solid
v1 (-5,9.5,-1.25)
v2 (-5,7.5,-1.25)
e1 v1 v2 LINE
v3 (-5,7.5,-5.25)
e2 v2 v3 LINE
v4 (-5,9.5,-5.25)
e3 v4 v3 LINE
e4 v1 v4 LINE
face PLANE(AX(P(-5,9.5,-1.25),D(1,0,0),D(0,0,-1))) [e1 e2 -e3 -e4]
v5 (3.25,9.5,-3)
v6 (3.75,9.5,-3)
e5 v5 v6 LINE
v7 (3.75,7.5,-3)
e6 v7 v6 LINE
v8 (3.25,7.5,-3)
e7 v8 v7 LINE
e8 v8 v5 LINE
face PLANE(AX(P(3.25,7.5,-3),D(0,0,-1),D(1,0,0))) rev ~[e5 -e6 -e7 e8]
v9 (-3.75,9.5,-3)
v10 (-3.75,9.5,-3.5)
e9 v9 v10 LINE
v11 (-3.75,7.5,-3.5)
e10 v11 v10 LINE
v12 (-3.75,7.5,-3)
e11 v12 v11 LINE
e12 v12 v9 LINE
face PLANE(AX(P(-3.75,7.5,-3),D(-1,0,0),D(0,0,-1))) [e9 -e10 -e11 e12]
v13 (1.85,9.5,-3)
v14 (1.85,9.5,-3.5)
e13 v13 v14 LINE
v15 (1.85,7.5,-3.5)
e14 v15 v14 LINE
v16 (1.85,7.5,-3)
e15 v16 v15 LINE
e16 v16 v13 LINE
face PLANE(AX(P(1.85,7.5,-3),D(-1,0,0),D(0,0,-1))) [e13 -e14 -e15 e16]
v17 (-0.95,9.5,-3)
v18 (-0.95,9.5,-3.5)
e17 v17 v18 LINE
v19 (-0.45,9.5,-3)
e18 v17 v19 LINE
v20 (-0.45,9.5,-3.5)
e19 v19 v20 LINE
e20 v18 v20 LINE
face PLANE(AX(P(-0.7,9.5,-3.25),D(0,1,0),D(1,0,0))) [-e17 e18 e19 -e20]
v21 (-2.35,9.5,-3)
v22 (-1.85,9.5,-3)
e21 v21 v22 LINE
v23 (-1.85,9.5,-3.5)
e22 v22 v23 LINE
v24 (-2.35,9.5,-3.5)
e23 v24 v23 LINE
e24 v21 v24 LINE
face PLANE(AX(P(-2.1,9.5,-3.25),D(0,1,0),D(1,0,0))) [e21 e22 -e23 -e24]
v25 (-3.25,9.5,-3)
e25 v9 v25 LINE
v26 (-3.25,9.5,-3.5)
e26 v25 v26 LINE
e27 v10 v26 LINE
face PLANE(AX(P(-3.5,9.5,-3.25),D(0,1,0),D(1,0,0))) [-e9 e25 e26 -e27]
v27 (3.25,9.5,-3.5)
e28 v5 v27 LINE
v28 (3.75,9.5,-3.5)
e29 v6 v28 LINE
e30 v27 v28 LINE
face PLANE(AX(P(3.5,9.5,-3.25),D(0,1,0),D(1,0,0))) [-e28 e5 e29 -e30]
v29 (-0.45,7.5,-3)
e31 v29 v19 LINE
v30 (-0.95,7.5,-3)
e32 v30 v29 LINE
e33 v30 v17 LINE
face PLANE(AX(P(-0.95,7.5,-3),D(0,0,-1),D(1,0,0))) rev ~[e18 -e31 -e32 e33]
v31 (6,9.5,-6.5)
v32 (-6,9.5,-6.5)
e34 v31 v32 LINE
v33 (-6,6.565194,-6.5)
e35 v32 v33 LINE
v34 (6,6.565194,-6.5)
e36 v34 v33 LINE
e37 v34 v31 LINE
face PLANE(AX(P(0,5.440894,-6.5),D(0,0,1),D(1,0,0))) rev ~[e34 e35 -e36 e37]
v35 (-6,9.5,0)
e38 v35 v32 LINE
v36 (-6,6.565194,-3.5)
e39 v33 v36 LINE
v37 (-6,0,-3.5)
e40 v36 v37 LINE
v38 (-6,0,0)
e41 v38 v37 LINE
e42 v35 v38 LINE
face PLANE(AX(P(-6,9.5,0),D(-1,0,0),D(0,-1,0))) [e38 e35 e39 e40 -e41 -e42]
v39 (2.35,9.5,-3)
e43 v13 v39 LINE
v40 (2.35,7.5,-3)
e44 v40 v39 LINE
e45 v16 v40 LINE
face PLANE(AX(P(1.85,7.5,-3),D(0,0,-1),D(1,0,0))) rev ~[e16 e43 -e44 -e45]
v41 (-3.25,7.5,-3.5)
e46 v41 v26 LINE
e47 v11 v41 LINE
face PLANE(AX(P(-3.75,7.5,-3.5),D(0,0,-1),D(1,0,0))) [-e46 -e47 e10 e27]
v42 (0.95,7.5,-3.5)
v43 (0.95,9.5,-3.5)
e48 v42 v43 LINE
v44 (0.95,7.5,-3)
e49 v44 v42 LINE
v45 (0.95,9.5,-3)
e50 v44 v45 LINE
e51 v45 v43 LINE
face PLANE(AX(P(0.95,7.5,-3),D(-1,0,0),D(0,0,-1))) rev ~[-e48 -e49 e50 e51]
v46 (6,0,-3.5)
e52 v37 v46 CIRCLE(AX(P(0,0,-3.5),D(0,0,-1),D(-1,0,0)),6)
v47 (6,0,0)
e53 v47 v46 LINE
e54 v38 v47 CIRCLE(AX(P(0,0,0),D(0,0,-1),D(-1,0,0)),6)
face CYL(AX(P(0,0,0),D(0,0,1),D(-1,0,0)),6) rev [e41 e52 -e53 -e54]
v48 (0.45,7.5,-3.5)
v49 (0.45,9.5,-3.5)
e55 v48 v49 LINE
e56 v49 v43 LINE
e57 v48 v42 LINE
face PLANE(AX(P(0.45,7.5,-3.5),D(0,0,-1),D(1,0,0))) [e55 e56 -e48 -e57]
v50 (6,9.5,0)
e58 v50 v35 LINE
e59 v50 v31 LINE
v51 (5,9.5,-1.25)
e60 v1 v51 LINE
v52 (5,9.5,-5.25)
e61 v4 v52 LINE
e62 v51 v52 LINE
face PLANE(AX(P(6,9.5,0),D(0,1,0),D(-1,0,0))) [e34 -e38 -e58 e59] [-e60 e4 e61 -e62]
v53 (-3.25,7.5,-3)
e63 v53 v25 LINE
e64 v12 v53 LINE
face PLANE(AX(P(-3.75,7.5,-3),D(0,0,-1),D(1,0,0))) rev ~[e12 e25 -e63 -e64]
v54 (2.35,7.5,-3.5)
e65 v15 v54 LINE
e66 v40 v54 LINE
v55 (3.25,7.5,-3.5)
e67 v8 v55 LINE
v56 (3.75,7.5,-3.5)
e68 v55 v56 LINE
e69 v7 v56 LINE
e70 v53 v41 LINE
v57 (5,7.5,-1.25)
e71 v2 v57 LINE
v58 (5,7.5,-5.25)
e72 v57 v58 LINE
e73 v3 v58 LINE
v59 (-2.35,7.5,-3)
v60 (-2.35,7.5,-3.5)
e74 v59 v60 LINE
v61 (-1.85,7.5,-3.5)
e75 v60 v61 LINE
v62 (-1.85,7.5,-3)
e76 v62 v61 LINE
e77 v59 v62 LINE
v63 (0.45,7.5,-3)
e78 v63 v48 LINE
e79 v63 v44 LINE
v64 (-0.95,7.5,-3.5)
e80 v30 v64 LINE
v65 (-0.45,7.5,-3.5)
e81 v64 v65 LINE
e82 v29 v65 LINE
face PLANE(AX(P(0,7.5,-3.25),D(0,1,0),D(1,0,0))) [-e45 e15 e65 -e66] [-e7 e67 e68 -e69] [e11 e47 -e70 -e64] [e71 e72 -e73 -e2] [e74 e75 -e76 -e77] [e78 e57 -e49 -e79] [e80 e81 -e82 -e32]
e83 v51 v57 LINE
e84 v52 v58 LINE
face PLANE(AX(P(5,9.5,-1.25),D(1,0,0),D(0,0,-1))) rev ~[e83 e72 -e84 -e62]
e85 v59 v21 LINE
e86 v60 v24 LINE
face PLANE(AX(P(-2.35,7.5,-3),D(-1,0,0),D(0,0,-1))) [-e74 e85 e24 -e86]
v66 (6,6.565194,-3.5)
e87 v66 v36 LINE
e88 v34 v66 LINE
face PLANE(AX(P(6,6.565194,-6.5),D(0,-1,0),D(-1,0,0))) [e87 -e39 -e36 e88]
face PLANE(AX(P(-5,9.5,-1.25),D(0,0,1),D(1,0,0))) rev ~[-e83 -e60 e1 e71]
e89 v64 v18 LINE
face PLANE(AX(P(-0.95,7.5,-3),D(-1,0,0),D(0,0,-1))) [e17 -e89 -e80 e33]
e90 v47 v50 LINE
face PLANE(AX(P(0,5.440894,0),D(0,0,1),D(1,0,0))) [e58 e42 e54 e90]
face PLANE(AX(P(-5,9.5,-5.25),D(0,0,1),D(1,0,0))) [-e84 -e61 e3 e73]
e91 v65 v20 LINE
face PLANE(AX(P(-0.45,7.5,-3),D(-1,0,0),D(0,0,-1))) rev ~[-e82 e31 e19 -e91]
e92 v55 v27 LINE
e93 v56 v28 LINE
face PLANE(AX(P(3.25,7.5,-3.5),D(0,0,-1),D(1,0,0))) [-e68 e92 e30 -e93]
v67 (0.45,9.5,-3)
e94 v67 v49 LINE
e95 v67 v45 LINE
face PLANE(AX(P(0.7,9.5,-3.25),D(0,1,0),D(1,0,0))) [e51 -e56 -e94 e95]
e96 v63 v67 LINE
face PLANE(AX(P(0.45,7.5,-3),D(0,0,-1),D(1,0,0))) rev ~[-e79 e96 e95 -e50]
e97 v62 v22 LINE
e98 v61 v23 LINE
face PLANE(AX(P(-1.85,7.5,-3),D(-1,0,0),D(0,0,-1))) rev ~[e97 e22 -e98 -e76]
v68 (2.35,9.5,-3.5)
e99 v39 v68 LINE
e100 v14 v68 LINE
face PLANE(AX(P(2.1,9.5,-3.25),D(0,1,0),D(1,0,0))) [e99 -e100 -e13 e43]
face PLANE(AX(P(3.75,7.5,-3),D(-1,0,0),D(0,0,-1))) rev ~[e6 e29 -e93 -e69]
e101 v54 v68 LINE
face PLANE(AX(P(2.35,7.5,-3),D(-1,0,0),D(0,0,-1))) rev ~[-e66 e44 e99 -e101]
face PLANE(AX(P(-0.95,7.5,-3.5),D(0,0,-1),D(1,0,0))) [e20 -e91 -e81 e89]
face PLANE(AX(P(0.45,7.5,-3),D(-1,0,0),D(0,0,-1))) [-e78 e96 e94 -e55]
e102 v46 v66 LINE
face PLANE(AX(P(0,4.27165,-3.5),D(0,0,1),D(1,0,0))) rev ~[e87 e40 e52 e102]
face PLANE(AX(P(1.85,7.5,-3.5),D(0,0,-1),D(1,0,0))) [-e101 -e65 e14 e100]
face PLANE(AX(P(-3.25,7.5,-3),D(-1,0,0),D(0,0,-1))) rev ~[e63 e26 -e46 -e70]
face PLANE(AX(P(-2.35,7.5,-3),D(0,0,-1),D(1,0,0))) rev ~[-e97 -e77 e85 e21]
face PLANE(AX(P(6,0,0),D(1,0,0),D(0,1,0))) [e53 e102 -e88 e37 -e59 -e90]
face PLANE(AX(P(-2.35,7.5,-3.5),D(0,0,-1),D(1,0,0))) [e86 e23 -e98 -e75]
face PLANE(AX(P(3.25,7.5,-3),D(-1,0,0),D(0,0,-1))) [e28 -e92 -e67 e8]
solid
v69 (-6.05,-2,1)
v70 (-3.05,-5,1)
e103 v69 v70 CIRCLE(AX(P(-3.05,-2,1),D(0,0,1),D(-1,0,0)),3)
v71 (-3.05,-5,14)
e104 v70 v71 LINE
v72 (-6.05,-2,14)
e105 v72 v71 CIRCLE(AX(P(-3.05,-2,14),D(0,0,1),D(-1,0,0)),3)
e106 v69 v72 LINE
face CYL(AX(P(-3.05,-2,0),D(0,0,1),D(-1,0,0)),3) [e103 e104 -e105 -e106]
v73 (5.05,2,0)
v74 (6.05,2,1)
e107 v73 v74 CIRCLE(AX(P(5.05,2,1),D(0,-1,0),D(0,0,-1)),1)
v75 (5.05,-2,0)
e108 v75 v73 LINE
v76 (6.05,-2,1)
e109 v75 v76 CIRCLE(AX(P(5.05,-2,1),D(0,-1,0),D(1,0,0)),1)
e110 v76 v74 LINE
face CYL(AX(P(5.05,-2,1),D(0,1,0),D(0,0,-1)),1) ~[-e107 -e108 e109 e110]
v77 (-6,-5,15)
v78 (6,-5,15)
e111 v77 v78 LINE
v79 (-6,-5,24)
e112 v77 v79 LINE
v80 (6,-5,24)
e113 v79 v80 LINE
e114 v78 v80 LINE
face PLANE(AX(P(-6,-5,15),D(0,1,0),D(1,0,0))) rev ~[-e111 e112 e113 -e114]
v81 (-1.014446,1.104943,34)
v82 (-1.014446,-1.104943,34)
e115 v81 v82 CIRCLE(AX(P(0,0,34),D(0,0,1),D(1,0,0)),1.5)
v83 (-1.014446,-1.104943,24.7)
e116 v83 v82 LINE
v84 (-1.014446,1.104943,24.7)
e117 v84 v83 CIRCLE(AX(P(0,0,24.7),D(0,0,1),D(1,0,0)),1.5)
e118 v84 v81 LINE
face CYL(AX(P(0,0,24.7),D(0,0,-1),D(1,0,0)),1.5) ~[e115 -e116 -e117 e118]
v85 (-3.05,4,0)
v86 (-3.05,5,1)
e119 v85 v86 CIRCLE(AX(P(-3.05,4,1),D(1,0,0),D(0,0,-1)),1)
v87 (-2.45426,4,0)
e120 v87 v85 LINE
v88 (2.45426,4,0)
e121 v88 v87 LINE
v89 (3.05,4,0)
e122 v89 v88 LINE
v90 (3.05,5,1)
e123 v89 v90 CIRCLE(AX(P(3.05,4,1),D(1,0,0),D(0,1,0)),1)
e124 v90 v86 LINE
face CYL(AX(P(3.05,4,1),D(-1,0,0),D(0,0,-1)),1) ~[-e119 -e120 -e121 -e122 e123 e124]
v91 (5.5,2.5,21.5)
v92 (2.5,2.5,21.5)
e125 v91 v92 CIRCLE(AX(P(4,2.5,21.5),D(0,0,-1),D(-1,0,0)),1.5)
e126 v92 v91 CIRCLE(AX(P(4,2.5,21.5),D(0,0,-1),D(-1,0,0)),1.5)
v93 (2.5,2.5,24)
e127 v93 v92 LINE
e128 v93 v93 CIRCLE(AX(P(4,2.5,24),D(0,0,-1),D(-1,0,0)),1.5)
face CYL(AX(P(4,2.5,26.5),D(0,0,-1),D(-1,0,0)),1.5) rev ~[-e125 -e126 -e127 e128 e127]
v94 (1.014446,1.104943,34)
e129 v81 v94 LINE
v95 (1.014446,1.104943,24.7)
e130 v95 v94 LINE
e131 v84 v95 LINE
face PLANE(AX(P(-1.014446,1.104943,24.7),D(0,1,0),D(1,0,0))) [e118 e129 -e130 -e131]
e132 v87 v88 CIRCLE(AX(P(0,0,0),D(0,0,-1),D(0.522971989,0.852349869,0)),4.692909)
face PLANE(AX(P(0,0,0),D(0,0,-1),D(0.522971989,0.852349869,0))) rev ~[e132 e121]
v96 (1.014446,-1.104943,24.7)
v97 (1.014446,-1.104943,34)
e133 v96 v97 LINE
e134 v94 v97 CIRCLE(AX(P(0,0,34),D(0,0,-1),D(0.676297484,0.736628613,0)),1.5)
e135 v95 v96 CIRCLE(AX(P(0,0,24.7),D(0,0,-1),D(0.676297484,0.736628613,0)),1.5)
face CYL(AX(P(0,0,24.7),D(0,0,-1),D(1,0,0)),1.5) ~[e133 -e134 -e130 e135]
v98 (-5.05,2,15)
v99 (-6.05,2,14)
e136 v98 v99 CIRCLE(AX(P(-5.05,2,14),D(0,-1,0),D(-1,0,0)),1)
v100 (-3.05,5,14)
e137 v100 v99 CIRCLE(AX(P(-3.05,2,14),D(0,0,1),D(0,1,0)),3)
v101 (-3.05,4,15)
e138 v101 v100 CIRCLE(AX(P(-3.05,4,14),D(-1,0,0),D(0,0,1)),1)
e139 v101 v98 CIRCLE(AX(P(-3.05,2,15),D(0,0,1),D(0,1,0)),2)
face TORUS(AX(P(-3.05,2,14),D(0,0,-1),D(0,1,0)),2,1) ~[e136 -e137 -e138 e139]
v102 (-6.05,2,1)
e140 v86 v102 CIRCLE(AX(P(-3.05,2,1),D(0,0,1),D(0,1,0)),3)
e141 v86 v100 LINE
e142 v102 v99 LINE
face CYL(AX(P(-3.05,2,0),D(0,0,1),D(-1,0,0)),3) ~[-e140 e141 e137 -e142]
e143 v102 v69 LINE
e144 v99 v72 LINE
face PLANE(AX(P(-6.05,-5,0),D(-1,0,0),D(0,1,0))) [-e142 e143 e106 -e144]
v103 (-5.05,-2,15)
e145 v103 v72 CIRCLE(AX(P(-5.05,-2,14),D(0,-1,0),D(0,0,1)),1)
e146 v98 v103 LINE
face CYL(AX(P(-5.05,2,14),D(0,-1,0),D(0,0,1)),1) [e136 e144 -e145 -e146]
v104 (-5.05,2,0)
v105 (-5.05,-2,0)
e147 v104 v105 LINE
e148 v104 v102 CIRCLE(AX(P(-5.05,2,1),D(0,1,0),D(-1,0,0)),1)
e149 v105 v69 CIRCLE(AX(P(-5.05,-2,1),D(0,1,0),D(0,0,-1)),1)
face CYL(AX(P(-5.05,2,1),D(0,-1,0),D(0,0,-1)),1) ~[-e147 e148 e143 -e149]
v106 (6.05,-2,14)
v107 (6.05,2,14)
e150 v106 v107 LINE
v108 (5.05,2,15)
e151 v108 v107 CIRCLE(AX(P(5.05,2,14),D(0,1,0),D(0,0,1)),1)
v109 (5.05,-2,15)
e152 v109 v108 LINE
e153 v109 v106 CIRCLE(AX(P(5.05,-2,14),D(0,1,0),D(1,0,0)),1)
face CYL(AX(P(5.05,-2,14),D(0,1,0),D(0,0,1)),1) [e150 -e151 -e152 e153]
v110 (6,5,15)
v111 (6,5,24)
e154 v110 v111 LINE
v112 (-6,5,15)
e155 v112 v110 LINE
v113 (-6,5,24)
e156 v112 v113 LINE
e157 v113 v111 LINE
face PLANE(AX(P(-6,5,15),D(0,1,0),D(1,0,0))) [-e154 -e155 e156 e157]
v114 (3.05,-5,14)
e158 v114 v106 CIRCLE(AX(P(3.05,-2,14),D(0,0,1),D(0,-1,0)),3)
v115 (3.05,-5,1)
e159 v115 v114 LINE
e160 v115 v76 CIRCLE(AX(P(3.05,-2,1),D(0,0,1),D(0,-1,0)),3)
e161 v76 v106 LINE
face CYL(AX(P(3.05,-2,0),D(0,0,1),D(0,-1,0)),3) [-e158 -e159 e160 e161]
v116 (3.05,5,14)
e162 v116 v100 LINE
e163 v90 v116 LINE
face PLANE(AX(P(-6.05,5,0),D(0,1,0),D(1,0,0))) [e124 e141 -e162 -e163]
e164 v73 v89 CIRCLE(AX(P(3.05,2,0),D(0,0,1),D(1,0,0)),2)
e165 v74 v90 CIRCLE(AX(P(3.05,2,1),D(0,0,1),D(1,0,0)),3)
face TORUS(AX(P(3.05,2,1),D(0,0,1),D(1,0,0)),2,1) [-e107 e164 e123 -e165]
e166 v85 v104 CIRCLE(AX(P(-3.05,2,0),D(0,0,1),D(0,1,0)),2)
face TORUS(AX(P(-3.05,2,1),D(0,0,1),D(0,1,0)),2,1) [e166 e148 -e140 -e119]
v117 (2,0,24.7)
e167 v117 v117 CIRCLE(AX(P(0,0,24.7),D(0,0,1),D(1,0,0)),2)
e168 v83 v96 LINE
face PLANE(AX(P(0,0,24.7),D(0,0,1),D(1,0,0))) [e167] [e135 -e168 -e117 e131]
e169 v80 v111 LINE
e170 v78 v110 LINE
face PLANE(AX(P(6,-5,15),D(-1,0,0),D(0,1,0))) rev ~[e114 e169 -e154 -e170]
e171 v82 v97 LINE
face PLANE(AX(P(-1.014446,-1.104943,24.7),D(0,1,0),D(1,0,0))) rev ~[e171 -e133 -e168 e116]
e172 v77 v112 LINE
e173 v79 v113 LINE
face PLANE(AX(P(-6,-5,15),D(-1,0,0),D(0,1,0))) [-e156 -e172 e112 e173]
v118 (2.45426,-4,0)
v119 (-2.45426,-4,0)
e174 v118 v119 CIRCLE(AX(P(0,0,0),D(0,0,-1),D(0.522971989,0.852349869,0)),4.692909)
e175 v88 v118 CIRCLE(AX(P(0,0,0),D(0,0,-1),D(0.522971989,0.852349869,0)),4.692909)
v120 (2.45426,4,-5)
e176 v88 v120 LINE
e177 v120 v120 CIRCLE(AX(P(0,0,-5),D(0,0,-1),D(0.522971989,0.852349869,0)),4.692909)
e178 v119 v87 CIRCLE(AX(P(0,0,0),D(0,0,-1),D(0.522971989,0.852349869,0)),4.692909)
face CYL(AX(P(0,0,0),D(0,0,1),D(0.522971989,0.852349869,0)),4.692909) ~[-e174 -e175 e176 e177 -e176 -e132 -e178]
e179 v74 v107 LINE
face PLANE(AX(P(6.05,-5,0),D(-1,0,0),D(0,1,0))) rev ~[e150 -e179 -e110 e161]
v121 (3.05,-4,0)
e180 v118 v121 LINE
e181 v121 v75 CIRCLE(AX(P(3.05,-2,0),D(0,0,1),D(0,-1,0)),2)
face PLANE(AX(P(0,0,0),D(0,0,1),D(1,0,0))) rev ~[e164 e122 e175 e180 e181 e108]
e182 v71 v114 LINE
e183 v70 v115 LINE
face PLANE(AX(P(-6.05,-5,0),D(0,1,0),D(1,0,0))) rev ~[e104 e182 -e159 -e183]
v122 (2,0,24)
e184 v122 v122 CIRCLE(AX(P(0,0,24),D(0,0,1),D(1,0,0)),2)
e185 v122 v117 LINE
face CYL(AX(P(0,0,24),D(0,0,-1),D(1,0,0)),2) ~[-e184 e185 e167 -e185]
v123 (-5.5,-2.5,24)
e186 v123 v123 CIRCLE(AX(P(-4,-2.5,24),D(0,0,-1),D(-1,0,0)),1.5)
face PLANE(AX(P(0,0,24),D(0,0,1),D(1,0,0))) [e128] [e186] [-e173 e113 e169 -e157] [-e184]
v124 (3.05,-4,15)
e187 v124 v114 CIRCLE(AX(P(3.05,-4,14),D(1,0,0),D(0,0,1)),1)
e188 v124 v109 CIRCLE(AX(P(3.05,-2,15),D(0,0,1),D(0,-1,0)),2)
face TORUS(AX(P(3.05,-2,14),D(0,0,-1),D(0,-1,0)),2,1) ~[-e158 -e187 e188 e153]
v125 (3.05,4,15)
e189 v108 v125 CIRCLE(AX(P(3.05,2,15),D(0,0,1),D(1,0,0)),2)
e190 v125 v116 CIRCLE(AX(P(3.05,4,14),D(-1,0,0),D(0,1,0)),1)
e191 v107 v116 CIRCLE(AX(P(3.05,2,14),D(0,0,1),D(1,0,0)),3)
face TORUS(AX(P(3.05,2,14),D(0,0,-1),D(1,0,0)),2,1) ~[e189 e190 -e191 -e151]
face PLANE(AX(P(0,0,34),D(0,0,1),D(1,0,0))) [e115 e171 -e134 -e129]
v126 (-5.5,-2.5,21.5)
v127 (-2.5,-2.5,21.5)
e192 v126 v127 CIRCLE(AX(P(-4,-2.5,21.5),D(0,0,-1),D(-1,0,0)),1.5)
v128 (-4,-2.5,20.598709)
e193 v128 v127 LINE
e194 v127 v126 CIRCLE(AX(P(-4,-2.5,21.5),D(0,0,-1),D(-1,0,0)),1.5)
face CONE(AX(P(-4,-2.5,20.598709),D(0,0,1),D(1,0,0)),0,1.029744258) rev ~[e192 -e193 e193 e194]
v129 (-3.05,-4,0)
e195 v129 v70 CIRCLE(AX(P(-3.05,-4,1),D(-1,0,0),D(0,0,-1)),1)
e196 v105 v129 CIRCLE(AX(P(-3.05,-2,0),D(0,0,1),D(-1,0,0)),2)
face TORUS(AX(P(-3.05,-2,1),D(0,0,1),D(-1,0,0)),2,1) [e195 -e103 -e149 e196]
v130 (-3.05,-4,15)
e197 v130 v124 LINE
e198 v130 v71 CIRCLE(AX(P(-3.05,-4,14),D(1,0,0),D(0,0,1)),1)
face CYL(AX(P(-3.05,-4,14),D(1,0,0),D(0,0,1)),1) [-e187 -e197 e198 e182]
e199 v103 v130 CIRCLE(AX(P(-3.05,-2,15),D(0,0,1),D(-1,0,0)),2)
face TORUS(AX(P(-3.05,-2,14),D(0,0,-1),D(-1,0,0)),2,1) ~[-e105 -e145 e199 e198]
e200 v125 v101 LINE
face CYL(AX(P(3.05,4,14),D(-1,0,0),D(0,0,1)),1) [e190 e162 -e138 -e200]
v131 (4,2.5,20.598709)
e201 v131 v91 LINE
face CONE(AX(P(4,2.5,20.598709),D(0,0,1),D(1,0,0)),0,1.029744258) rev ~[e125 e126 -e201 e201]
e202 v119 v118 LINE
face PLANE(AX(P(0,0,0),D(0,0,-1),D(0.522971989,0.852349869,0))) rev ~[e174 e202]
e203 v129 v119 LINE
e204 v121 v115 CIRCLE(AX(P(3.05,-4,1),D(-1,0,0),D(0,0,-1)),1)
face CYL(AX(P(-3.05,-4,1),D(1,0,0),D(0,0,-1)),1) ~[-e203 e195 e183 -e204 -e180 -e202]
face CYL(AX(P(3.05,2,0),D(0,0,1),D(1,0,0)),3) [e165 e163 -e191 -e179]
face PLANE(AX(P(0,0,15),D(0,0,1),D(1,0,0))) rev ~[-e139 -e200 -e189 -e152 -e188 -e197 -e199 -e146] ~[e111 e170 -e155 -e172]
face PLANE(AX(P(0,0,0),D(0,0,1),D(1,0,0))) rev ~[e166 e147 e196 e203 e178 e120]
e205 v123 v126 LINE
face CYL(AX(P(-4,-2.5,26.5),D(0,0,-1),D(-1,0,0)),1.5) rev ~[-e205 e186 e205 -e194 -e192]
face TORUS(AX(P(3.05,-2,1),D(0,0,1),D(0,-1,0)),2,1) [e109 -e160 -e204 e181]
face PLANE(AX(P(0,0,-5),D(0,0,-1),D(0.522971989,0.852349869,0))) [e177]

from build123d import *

# Parameters (mm, degrees)
SKETCH_3_W                 = 12.1
SKETCH_3_H                 = 10
EXTRUDE_2_DEPTH            = 15
FILLET_3_R                 = 3
FILLET_4_R                 = 1
SKETCH_4_W                 = 12
SKETCH_4_H                 = 10
EXTRUDE_3_DEPTH            = 9
SKETCH_5_R                 = 2
EXTRUDE_4_DEPTH            = 0.7
SKETCH_6_R                 = 1.5
EXTRUDE_5_DEPTH            = 9.3
HOLE_WIZARD_3_0_3_1_D      = 3
HOLE_WIZARD_3_0_3_1_DEPTH  = 2.5
HOLE_WIZARD_3_0_3_1_TIP    = 0.901290929
EXTRUDE_7_DEPTH            = 6.5
SKETCH_11_R                = 4.692908565
EXTRUDE_8_DEPTH            = 5
CUT_EXTRUDE_1_DEPTH        = 3
SKETCH_13_W                = 10
SKETCH_13_H                = 4
CUT_EXTRUDE_2_DEPTH        = 2
SKETCH_14_W                = 0.5
SKETCH_14_H                = 0.5
EXTRUDE_9_DEPTH            = 2
PATTERN_LINEAR_1_COUNT     = 3
PATTERN_LINEAR_1_PITCH     = 1.4
PATTERN_LINEAR_1_COL_COUNT = 4
PATTERN_LINEAR_1_COL_PITCH = 1.4
CUT_EXTRUDE_START          = -9.3
CUT_EXTRUDE_3_DEPTH        = 9.3


with BuildPart() as part:
    # 草图3 → 凸台-拉伸2 (new body)
    with BuildSketch(Plane.XY):
        Rectangle(SKETCH_3_W, SKETCH_3_H)
    extrude(amount=EXTRUDE_2_DEPTH)

    # 圆角3
    fillet_3_edges = [part.edges().sort_by_distance(p)[0] for p in [
        (6.05, -5, 7.5),
        (-6.05, -5, 7.5),
        (-6.05, 5, 7.5),
        (6.05, 5, 7.5),
    ]]
    fillet(fillet_3_edges, radius=FILLET_3_R)

    # 圆角4
    fillet_4_edges = [part.edges().sort_by_distance(p)[0] for p in [
        (0, -5, 0),
        (0, -5, 15),
        (6.05, 0, 0),
        (-6.05, 0, 0),
        (0, 5, 0),
        (5.171320344, 4.121320344, 0),
        (5.171320344, -4.121320344, 0),
        (-5.171320344, 4.121320344, 0),
        (-5.171320344, -4.121320344, 0),
        (-6.05, 0, 15),
        (6.05, 0, 15),
        (0, 5, 15),
        (5.171320344, 4.121320344, 15),
        (5.171320344, -4.121320344, 15),
        (-5.171320344, 4.121320344, 15),
        (-5.171320344, -4.121320344, 15),
    ]]
    fillet(fillet_4_edges, radius=FILLET_4_R)

    # 草图4 → 凸台-拉伸3 (add)
    with BuildSketch(Plane.XY.offset(15)):
        Rectangle(SKETCH_4_W, SKETCH_4_H)
    extrude(amount=EXTRUDE_3_DEPTH)

    # 草图5 → 凸台-拉伸4 (add)
    with BuildSketch(Plane.XY.offset(24)):
        Circle(SKETCH_5_R)
    extrude(amount=EXTRUDE_4_DEPTH)

    # 草图6 → 凸台-拉伸5 (add)
    with BuildSketch(Plane.XY.offset(24.7)):
        Circle(SKETCH_6_R)
    extrude(amount=EXTRUDE_5_DEPTH)

    # Ø3.0 (3) 直径孔1
    with Locations(Plane.XY.offset(24)):
        with Locations((-4, -2.5), (4, 2.5)):
            Hole(HOLE_WIZARD_3_0_3_1_D / 2, depth=HOLE_WIZARD_3_0_3_1_DEPTH)
            with Locations((0, 0, -(HOLE_WIZARD_3_0_3_1_DEPTH + HOLE_WIZARD_3_0_3_1_TIP / 2))):  # 118° drill point
                Cone(0, HOLE_WIZARD_3_0_3_1_D / 2, HOLE_WIZARD_3_0_3_1_TIP, mode=Mode.SUBTRACT)

    # 草图11 → 凸台-拉伸8 (add)
    with BuildSketch(Plane(origin=(0, 0, 0), x_dir=(-1, 0, 0), z_dir=(0, 0, -1))):
        with Locations(Location((0, 0, 0), (0, 0, 121.531818608))):
            Circle(SKETCH_11_R)
    extrude(amount=EXTRUDE_8_DEPTH)

    # 草图15 → 切除-拉伸3 (cut)
    with BuildSketch(Plane.XY.offset(34).offset(CUT_EXTRUDE_START)):
        with BuildLine():
            Line((-1.014446226, 1.104942919), (1.014446226, 1.104942919))
            ThreePointArc((1.014446226, 1.104942919), (0, 1.5), (-1.014446226, 1.104942919))
        make_face()
        with BuildLine():
            Line((-1.014446226, -1.104942919), (1.014446226, -1.104942919))
            ThreePointArc((1.014446226, -1.104942919), (0, -1.5), (-1.014446226, -1.104942919))
        make_face()
    extrude(amount=CUT_EXTRUDE_3_DEPTH, mode=Mode.SUBTRACT)


with BuildPart() as body_2:
    # 草图10 → 凸台-拉伸7 (new body)
    with BuildSketch(Plane(origin=(0, 0, 0), x_dir=(-1, 0, 0), z_dir=(0, 0, -1))):
        with BuildLine():
            Line((-6, 0), (-6, 9.5))
            Line((-6, 9.5), (6, 9.5))
            Line((6, 9.5), (6, 0))
            ThreePointArc((6, 0), (0, 6), (-6, 0))
        make_face()
    extrude(amount=EXTRUDE_7_DEPTH)

    # 草图12 → 切除-拉伸1 (cut)
    with BuildSketch(Plane(origin=(0, 0, -6.5), x_dir=(-1, 0, 0), z_dir=(0, 0, -1))):
        with BuildLine():
            Line((-6, 0), (-6, 6.565194245))
            Line((-6, 6.565194245), (6, 6.565194245))
            Line((6, 6.565194245), (6, 0))
            ThreePointArc((6, 0), (0, 6), (-6, 0))
        make_face()
    extrude(amount=-CUT_EXTRUDE_1_DEPTH, mode=Mode.SUBTRACT)

    # 草图13 → 切除-拉伸2 (cut)
    with BuildSketch(Plane(origin=(0, 9.5, 0), x_dir=(1, 0, 0), z_dir=(0, 1, 0))):
        with Locations((0, 3.25)):
            Rectangle(SKETCH_13_W, SKETCH_13_H)
    extrude(amount=-CUT_EXTRUDE_2_DEPTH, mode=Mode.SUBTRACT)

    # 草图14 → 凸台-拉伸9 (add)
    with BuildSketch(Plane(origin=(0, 7.5, 0), x_dir=(1, 0, 0), z_dir=(0, 1, 0))):
        with Locations((-0.7, 3.25)):
            Rectangle(SKETCH_14_W, SKETCH_14_H)
    extrude_9 = extrude(amount=EXTRUDE_9_DEPTH)

    # 阵列(线性)1: 凸台-拉伸9 ×3
    with Locations(*[(-i * PATTERN_LINEAR_1_PITCH, 0, 0) for i in range(1, PATTERN_LINEAR_1_COUNT)]):
        add(extrude_9)

    # 阵列(线性)1 col: 凸台-拉伸9 ×4
    with Locations(*[(i * PATTERN_LINEAR_1_COL_PITCH, 0, 0) for i in range(1, PATTERN_LINEAR_1_COL_COUNT)]):
        add(extrude_9)


solid = Compound([part.part, body_2.part])
